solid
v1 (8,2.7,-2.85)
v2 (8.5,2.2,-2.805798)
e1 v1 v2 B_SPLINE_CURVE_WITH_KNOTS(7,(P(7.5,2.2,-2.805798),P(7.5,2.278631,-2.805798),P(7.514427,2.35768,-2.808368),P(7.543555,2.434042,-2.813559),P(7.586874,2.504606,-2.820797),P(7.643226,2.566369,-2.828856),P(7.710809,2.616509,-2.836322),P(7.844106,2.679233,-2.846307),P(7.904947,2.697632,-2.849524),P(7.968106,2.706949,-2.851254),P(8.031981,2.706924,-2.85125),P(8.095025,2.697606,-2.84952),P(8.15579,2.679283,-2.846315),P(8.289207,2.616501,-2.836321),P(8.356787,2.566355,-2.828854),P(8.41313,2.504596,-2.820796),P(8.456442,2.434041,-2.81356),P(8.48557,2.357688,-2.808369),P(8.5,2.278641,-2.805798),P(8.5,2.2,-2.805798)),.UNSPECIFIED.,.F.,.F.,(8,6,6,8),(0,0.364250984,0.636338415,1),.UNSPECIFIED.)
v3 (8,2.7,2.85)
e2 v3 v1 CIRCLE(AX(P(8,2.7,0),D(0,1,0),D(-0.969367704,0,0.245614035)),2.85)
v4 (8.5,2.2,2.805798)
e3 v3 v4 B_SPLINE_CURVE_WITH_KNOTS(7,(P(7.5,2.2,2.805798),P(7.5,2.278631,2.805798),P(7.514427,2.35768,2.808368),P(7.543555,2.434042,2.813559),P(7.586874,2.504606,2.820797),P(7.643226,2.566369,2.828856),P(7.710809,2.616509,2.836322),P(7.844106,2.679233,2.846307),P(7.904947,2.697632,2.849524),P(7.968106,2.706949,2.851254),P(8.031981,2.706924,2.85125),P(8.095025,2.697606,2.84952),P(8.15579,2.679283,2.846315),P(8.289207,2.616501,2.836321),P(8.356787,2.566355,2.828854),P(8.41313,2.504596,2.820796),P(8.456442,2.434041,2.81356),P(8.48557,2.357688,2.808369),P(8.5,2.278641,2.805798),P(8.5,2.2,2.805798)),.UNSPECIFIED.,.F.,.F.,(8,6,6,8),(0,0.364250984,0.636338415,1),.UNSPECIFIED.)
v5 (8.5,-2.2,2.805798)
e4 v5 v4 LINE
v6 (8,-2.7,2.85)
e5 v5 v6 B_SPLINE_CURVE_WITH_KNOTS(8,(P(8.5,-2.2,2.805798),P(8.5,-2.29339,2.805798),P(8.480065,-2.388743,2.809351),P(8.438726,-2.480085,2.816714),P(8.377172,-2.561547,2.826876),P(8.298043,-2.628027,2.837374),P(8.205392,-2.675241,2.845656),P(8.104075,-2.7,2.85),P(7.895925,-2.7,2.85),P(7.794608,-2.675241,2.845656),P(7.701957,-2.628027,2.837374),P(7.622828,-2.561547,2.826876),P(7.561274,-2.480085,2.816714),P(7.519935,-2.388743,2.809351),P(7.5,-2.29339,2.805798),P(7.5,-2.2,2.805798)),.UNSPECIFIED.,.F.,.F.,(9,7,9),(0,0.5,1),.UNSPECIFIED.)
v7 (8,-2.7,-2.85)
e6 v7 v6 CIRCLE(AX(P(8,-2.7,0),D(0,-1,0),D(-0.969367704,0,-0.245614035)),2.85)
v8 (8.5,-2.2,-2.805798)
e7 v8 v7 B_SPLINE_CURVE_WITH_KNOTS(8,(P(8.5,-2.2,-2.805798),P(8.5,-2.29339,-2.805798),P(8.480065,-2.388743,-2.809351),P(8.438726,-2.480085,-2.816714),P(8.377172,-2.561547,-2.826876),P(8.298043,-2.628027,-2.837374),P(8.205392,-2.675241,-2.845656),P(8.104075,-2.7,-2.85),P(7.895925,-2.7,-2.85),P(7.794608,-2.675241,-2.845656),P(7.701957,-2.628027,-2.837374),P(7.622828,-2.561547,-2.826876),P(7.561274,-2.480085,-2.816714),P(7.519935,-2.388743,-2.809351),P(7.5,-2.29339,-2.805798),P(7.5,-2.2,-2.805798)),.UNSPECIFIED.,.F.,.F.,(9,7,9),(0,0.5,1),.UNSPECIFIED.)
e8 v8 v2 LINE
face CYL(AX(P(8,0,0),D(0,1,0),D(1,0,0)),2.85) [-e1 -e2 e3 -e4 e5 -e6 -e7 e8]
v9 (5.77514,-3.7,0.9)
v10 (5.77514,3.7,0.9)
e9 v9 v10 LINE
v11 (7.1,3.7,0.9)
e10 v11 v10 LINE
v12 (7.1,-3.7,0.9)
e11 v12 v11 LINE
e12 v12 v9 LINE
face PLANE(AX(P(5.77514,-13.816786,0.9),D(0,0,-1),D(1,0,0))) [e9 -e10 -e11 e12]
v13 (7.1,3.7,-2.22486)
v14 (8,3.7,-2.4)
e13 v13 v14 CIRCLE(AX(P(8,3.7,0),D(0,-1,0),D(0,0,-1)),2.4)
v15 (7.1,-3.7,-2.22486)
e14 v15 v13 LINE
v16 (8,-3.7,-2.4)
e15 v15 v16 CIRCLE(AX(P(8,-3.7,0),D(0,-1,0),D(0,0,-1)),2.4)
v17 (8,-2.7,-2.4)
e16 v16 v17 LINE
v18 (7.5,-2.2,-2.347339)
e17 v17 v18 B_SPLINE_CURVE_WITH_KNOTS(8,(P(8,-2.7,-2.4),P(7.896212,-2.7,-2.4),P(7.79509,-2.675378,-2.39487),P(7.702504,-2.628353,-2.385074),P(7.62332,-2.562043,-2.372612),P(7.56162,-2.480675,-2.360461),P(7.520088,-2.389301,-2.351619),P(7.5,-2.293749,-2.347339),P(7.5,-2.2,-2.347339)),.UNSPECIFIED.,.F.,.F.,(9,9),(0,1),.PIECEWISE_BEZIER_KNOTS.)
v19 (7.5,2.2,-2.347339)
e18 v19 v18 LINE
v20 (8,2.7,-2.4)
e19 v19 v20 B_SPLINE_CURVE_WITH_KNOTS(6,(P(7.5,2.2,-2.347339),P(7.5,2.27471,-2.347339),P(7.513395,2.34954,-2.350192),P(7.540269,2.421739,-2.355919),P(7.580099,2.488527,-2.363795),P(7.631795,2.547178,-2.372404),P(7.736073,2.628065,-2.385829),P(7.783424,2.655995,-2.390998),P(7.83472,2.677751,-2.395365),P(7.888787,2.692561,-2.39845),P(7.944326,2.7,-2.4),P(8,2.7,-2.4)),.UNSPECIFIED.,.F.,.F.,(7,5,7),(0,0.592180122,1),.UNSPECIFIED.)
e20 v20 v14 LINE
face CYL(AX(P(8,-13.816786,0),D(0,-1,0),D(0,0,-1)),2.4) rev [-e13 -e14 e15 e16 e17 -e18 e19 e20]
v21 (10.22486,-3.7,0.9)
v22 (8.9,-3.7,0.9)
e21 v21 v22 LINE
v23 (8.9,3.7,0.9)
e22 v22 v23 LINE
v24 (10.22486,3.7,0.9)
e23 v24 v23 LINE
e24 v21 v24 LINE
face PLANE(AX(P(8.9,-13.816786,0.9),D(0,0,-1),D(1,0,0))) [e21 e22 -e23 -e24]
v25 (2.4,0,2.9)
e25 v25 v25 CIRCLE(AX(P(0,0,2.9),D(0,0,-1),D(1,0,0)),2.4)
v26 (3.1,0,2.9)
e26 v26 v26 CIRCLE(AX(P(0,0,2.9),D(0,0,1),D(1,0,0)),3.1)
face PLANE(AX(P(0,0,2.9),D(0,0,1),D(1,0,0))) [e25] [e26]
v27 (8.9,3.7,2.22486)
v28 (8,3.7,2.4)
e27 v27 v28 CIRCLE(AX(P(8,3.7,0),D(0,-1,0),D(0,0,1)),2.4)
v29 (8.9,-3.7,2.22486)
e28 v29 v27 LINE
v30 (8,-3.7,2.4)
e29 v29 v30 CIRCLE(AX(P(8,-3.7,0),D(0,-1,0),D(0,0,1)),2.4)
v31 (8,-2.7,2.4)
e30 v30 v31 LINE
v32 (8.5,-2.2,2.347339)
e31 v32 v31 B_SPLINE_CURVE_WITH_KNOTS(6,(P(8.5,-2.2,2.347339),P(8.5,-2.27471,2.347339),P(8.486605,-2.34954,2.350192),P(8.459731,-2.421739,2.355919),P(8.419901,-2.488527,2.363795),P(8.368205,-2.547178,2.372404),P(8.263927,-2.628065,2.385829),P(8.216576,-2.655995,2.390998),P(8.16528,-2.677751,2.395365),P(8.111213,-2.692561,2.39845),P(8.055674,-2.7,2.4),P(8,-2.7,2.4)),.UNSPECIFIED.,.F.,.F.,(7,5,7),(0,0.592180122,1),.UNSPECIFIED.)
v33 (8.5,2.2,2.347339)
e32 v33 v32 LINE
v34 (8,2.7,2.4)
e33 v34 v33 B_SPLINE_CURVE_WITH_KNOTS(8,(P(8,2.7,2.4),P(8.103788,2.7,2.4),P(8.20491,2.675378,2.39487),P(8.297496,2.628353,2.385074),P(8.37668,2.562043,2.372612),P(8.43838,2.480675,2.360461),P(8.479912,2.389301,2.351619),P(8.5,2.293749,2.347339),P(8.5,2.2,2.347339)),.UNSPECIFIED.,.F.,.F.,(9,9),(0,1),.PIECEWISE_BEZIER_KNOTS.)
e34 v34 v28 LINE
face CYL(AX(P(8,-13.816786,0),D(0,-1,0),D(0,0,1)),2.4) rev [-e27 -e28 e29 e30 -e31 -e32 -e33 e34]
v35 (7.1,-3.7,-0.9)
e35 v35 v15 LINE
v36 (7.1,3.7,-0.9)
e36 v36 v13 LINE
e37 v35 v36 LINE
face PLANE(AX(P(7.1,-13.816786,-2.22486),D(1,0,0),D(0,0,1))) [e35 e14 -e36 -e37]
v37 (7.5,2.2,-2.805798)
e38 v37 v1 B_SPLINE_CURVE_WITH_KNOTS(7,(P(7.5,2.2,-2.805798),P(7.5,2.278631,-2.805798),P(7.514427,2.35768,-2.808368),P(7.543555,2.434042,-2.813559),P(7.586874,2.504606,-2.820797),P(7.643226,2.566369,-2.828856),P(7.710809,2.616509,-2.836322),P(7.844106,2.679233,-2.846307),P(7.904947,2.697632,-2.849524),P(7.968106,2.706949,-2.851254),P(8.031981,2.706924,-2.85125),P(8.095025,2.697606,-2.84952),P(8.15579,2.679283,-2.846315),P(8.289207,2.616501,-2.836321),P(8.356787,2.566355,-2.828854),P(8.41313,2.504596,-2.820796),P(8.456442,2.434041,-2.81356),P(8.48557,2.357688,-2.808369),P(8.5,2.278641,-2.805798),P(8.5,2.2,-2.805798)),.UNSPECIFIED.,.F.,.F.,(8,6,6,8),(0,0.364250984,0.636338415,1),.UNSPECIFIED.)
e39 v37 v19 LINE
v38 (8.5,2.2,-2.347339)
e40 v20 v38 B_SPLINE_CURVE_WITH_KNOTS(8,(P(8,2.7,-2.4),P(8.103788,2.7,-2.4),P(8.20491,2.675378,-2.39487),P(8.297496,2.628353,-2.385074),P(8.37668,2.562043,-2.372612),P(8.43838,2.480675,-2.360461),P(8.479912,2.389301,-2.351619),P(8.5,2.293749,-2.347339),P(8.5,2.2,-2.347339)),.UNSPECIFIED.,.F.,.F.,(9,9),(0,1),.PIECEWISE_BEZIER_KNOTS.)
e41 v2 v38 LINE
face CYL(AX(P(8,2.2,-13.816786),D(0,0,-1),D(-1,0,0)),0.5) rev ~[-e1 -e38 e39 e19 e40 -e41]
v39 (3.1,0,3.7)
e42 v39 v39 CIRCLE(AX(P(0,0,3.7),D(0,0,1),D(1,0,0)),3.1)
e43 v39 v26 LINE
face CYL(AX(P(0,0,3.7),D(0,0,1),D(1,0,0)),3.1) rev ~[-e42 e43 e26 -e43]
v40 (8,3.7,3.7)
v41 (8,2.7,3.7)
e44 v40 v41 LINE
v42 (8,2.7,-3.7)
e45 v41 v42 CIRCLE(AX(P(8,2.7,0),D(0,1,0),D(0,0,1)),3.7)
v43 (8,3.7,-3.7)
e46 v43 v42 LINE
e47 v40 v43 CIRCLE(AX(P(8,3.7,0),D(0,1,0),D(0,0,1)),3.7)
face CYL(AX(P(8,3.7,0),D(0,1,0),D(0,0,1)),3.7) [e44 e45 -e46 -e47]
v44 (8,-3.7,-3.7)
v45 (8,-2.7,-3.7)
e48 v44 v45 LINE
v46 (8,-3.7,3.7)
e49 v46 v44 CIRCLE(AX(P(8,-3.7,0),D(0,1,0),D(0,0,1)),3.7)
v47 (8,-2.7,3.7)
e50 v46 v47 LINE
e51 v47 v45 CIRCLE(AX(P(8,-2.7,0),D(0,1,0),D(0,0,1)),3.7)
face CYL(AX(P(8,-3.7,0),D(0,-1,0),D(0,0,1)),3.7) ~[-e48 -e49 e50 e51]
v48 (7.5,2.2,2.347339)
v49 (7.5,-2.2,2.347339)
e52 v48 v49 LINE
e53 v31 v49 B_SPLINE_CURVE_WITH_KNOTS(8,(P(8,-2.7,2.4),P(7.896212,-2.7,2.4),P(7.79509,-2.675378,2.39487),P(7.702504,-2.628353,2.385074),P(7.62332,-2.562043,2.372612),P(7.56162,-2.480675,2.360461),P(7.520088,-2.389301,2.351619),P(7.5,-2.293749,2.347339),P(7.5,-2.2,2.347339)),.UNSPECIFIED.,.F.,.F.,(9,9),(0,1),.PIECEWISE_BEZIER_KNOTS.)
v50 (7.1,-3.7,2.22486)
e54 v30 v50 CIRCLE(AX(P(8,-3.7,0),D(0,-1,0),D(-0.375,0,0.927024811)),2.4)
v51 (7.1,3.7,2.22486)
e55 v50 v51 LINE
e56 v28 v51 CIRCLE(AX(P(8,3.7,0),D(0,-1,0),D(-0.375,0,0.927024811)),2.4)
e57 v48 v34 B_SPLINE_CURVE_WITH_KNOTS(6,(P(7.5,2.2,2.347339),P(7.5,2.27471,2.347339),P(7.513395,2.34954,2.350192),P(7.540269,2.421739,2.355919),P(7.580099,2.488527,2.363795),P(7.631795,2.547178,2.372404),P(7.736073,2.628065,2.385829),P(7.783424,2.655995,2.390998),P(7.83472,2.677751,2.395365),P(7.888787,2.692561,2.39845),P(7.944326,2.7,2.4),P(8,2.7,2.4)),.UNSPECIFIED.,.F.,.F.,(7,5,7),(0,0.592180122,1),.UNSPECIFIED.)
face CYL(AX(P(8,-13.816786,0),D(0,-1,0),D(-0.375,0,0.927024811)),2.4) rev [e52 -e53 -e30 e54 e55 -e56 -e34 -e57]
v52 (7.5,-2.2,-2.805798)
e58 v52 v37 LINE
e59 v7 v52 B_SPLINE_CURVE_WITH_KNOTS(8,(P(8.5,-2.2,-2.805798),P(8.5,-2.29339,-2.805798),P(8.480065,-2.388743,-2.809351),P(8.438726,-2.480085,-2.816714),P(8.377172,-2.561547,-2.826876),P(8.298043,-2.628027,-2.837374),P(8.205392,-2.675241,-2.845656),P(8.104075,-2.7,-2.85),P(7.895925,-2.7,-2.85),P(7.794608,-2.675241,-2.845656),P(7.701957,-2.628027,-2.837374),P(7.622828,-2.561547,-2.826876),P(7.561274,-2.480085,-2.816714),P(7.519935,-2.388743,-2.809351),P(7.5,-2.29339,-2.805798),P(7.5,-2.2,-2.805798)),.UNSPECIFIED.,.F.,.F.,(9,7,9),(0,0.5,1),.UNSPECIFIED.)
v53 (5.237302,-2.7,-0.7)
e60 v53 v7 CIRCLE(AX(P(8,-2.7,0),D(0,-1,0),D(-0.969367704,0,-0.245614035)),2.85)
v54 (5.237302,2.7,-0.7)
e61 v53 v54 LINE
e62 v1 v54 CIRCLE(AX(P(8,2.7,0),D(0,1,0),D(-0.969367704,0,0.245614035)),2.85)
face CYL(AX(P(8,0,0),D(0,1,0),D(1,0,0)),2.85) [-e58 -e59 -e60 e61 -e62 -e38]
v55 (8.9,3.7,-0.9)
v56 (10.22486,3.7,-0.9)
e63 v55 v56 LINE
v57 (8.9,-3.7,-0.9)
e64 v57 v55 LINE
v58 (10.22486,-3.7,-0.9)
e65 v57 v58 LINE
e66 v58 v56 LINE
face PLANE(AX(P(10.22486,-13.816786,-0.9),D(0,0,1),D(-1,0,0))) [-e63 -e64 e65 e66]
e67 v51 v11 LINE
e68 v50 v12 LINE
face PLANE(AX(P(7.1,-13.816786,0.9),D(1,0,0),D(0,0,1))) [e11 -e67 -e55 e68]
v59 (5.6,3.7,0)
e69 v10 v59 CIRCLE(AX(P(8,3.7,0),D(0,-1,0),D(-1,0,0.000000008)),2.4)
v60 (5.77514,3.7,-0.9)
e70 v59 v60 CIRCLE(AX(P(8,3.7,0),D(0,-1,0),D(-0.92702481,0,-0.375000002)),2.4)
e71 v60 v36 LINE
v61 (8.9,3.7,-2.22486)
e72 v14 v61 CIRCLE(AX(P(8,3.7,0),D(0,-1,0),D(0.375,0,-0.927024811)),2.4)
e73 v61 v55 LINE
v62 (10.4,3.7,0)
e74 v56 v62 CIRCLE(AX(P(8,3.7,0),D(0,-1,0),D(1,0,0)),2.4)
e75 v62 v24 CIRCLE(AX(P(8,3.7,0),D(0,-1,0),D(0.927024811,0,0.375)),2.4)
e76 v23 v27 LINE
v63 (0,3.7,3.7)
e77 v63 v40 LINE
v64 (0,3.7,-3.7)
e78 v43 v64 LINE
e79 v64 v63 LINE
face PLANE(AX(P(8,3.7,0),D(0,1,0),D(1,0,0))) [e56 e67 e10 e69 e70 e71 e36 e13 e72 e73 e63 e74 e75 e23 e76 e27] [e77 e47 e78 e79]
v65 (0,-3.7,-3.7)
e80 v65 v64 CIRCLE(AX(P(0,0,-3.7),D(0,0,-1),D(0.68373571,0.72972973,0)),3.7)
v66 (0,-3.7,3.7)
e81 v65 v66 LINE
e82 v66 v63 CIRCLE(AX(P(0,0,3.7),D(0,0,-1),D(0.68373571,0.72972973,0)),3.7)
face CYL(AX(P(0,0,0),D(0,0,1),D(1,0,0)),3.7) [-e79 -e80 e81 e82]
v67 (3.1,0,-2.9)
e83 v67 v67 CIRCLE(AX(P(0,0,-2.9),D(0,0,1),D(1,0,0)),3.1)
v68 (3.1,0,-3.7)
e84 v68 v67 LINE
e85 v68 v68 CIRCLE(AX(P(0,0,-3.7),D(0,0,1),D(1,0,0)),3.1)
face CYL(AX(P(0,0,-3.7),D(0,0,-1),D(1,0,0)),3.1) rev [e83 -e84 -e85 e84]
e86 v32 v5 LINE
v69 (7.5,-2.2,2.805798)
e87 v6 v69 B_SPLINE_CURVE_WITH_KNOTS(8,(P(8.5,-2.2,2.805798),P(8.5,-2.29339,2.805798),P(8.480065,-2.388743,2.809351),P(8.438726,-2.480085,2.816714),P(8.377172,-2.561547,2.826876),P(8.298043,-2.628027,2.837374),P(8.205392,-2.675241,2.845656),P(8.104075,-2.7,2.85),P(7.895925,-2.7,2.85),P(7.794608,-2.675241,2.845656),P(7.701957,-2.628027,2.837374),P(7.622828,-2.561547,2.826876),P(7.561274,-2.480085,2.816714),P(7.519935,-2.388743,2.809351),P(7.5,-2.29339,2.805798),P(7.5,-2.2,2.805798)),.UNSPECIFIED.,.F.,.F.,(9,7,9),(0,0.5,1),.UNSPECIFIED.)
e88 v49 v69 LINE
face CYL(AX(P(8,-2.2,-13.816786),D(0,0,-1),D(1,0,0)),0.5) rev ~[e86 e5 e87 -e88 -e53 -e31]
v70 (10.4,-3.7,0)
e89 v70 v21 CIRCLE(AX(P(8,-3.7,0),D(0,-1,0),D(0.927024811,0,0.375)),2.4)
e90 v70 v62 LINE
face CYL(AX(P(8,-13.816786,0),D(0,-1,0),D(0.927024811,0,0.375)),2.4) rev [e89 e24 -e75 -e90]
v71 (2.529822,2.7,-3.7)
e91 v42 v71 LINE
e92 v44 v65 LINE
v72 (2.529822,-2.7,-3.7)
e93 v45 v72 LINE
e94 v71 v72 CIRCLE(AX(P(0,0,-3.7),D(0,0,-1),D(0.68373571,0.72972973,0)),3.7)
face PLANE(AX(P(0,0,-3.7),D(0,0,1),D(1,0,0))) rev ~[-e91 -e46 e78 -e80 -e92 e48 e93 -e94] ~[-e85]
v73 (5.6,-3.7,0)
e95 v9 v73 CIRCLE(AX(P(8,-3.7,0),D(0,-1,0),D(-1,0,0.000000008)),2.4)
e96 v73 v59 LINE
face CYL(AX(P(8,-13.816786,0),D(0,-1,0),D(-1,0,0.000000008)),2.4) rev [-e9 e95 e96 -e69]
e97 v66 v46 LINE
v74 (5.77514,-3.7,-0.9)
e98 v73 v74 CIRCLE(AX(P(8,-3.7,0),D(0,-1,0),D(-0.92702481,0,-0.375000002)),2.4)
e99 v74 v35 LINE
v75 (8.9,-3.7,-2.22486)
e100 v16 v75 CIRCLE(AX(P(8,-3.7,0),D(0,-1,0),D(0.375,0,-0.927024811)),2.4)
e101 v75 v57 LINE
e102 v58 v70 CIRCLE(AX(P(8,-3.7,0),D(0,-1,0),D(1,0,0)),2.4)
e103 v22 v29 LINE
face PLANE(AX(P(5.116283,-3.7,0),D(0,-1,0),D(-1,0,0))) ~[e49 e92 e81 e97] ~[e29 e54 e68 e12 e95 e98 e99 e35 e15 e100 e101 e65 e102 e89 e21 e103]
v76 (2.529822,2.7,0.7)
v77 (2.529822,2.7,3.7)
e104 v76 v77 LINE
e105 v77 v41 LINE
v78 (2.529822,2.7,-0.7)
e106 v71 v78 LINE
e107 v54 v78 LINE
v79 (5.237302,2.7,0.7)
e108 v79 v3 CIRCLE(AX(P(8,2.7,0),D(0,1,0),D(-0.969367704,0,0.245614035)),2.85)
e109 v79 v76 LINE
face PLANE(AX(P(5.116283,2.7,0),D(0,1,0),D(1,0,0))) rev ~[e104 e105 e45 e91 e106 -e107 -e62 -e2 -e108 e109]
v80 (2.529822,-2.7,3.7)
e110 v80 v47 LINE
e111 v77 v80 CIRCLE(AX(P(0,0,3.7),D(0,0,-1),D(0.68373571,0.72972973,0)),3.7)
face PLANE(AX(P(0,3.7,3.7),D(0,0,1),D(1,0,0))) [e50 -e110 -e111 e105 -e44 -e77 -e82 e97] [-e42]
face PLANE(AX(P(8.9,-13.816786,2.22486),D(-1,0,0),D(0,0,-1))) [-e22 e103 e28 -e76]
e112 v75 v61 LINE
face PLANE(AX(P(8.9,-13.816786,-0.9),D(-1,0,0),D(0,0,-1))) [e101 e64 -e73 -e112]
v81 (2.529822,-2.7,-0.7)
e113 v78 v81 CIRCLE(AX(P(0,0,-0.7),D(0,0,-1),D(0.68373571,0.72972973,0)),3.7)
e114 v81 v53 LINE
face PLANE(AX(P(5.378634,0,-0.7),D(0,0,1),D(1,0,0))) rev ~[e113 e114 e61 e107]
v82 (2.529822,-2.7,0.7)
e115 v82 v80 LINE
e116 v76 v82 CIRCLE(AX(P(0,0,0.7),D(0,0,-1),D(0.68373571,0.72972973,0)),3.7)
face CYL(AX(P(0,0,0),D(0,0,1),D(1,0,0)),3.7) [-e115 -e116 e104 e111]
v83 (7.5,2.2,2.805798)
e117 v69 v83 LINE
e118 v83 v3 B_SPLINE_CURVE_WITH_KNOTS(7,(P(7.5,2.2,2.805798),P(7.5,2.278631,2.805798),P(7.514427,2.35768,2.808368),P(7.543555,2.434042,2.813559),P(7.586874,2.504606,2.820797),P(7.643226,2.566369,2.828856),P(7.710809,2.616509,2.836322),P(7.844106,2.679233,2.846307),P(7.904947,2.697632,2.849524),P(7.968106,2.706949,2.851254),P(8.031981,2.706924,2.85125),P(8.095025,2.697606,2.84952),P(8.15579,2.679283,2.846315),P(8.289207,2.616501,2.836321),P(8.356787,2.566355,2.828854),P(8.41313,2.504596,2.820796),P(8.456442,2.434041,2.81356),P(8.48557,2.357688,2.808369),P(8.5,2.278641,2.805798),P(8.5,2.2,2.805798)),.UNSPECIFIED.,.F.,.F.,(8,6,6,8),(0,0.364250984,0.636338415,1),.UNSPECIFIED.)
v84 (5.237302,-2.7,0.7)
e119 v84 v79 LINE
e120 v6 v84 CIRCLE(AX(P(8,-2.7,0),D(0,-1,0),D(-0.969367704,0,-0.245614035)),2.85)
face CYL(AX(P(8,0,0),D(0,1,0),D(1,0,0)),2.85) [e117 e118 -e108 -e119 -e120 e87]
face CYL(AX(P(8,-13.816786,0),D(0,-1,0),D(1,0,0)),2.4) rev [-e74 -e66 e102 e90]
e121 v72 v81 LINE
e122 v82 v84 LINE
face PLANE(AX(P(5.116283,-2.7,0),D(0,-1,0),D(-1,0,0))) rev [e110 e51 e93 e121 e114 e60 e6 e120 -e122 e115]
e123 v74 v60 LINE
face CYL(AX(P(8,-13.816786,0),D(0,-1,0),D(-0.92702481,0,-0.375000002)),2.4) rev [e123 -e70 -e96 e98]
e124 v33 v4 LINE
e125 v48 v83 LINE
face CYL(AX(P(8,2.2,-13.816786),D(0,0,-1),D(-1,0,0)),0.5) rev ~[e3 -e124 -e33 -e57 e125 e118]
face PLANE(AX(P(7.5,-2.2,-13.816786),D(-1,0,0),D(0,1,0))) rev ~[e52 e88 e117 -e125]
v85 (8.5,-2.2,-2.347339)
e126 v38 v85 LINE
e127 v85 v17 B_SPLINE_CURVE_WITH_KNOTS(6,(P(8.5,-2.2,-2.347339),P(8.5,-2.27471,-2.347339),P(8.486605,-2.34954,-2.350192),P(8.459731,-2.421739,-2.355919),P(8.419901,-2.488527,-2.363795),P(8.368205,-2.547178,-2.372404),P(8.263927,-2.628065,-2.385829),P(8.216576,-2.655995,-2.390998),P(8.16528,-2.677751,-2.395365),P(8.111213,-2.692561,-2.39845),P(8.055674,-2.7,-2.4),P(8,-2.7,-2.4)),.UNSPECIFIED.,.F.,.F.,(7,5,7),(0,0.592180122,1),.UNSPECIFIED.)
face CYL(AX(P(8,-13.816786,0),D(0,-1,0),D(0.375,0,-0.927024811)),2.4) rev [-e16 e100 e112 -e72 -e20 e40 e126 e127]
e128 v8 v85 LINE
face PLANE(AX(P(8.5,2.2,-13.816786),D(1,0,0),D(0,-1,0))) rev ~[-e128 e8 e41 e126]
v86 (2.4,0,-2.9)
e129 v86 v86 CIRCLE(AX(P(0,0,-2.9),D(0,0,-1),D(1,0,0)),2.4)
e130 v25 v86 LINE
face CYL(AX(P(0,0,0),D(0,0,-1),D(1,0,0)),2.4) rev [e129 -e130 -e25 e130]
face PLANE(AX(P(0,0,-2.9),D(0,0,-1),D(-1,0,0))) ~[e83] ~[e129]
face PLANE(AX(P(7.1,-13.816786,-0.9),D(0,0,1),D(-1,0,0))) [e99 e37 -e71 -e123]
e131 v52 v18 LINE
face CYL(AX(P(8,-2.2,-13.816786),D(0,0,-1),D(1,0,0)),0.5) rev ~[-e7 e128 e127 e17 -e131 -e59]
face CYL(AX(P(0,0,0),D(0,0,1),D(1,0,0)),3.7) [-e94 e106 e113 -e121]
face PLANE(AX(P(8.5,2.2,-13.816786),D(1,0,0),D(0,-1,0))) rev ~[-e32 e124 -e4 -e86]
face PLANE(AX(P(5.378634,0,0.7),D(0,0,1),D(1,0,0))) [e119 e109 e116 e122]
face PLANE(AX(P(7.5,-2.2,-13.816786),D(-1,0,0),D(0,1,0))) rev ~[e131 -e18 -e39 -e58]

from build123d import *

# Parameters (mm, degrees)
SKETCH1_R            = 3.7
SKETCH1_R_2          = 2.4
PIN_SIDE_DEPTH       = 3.7
SIDE_START           = 3.7
SIDE_EAR_DEPTH       = 1
MIDDLE_RIB_DEPTH     = 0.7
SKETCH4_R            = 2.85
AXLE_BODY_DEPTH      = 3.7
AXLE_CUT_DEPTH       = 13.816785869
AXLE_CUT_DEPTH_BACK  = 13.816785869
SKETCH5_W            = 1.8
SKETCH5_H            = 1.8
AXLE_SLOT_DEPTH      = 13.816785869
AXLE_SLOT_DEPTH_BACK = 13.816785869
SKETCH7_R            = 3.1
PIN_RIM_DEPTH        = 0.8


with BuildPart() as part:
    # Sketch1 → Pin Side (new, symmetric)
    with BuildSketch(Plane.XY):
        Circle(SKETCH1_R)
        Circle(SKETCH1_R_2, mode=Mode.SUBTRACT)
    extrude(amount=PIN_SIDE_DEPTH, both=True)

    # Sketch2 → Side Ear (add)
    with BuildSketch(Plane(origin=(0, 0, 0), x_dir=(1, 0, 0), z_dir=(0, 1, 0)).offset(SIDE_START)):
        with BuildLine():
            Line((0, 3.7), (0, -3.7))
            Line((0, -3.7), (8, -3.7))
            ThreePointArc((8, -3.7), (11.7, 0), (8, 3.7))
            Line((8, 3.7), (0, 3.7))
        make_face()
    side_ear = extrude(amount=-SIDE_EAR_DEPTH)

    # Mirror1: Side Ear across plane
    add(side_ear.mirror(Plane.ZX))

    # Sketch3 → Middle Rib (add, symmetric)
    with BuildSketch(Plane.XY):
        with BuildLine():
            Line((2.529822128, -2.7), (8, -2.7))
            Line((8, -2.7), (8, 2.7))
            Line((8, 2.7), (2.529822128, 2.7))
            ThreePointArc((2.529822128, 2.7), (3.7, 0), (2.529822128, -2.7))
        make_face()
    extrude(amount=MIDDLE_RIB_DEPTH, both=True)

    # Sketch4 → Axle Body (add, symmetric)
    with BuildSketch(Plane(origin=(0, 0, 0), x_dir=(1, 0, 0), z_dir=(0, 1, 0))):
        with Locations((8, 0)):
            Circle(SKETCH4_R)
    extrude(amount=AXLE_BODY_DEPTH, both=True)

    # Sketch5 → Axle Cut (cut, two sides: drawn at the far end of the back side and taken through both)
    with BuildSketch(Plane(origin=(0, 0, 0), x_dir=(1, 0, 0), z_dir=(0, 1, 0)).offset(-AXLE_CUT_DEPTH_BACK)):
        with BuildLine():
            Line((5.775140454, -0.9), (7.1, -0.9))
            Line((7.1, -0.9), (7.1, 0.9))
            Line((7.1, 0.9), (5.775140454, 0.9))
            ThreePointArc((5.775140454, 0.9), (5.644191972, 0.458441422), (5.6, -1.6e-08))
            ThreePointArc((5.6, -1.6e-08), (5.644191976, -0.458441438), (5.775140454, -0.9))
        make_face()
        with BuildLine():
            Line((7.1, 0.9), (8.9, 0.9))
            Line((8.9, 0.9), (8.9, 2.224859546))
            ThreePointArc((8.9, 2.224859546), (8.45844143, 2.355808026), (8, 2.4))
            ThreePointArc((8, 2.4), (7.54155857, 2.355808026), (7.1, 2.224859546))
            Line((7.1, 2.224859546), (7.1, 0.9))
        make_face()
        with Locations((8, 0)):
            Rectangle(SKETCH5_W, SKETCH5_H)
        with BuildLine():
            Line((8.9, 0.9), (8.9, -0.9))
            Line((8.9, -0.9), (10.224859546, -0.9))
            ThreePointArc((10.224859546, -0.9), (10.355808026, -0.45844143), (10.4, 0))
            ThreePointArc((10.4, 0), (10.355808026, 0.45844143), (10.224859546, 0.9))
            Line((10.224859546, 0.9), (8.9, 0.9))
        make_face()
        with BuildLine():
            ThreePointArc((7.1, -2.224859546), (7.54155857, -2.355808026), (8, -2.4))
            ThreePointArc((8, -2.4), (8.45844143, -2.355808026), (8.9, -2.224859546))
            Line((8.9, -2.224859546), (8.9, -0.9))
            Line((8.9, -0.9), (7.1, -0.9))
            Line((7.1, -0.9), (7.1, -2.224859546))
        make_face()
    extrude(amount=AXLE_CUT_DEPTH + AXLE_CUT_DEPTH_BACK, mode=Mode.SUBTRACT)

    # Sketch6 → Axle Slot (cut, two sides: drawn at the far end of the back side and taken through both)
    with BuildSketch(Plane.XY.offset(-AXLE_SLOT_DEPTH_BACK)):
        with BuildLine():
            Line((7.5, -2.2), (7.5, 2.2))
            ThreePointArc((7.5, 2.2), (8, 2.7), (8.5, 2.2))
            Line((8.5, 2.2), (8.5, -2.2))
            ThreePointArc((8.5, -2.2), (8, -2.7), (7.5, -2.2))
        make_face()
    extrude(amount=AXLE_SLOT_DEPTH + AXLE_SLOT_DEPTH_BACK, mode=Mode.SUBTRACT)

    # Sketch7 → Pin Rim (cut)
    with BuildSketch(Plane.XY.offset(3.7)):
        Circle(SKETCH7_R)
    pin_rim = extrude(amount=-PIN_RIM_DEPTH, mode=Mode.SUBTRACT)

    # Mirror2: Pin Rim across plane
    add(pin_rim.mirror(Plane.XY), mode=Mode.SUBTRACT)


solid = part.part
